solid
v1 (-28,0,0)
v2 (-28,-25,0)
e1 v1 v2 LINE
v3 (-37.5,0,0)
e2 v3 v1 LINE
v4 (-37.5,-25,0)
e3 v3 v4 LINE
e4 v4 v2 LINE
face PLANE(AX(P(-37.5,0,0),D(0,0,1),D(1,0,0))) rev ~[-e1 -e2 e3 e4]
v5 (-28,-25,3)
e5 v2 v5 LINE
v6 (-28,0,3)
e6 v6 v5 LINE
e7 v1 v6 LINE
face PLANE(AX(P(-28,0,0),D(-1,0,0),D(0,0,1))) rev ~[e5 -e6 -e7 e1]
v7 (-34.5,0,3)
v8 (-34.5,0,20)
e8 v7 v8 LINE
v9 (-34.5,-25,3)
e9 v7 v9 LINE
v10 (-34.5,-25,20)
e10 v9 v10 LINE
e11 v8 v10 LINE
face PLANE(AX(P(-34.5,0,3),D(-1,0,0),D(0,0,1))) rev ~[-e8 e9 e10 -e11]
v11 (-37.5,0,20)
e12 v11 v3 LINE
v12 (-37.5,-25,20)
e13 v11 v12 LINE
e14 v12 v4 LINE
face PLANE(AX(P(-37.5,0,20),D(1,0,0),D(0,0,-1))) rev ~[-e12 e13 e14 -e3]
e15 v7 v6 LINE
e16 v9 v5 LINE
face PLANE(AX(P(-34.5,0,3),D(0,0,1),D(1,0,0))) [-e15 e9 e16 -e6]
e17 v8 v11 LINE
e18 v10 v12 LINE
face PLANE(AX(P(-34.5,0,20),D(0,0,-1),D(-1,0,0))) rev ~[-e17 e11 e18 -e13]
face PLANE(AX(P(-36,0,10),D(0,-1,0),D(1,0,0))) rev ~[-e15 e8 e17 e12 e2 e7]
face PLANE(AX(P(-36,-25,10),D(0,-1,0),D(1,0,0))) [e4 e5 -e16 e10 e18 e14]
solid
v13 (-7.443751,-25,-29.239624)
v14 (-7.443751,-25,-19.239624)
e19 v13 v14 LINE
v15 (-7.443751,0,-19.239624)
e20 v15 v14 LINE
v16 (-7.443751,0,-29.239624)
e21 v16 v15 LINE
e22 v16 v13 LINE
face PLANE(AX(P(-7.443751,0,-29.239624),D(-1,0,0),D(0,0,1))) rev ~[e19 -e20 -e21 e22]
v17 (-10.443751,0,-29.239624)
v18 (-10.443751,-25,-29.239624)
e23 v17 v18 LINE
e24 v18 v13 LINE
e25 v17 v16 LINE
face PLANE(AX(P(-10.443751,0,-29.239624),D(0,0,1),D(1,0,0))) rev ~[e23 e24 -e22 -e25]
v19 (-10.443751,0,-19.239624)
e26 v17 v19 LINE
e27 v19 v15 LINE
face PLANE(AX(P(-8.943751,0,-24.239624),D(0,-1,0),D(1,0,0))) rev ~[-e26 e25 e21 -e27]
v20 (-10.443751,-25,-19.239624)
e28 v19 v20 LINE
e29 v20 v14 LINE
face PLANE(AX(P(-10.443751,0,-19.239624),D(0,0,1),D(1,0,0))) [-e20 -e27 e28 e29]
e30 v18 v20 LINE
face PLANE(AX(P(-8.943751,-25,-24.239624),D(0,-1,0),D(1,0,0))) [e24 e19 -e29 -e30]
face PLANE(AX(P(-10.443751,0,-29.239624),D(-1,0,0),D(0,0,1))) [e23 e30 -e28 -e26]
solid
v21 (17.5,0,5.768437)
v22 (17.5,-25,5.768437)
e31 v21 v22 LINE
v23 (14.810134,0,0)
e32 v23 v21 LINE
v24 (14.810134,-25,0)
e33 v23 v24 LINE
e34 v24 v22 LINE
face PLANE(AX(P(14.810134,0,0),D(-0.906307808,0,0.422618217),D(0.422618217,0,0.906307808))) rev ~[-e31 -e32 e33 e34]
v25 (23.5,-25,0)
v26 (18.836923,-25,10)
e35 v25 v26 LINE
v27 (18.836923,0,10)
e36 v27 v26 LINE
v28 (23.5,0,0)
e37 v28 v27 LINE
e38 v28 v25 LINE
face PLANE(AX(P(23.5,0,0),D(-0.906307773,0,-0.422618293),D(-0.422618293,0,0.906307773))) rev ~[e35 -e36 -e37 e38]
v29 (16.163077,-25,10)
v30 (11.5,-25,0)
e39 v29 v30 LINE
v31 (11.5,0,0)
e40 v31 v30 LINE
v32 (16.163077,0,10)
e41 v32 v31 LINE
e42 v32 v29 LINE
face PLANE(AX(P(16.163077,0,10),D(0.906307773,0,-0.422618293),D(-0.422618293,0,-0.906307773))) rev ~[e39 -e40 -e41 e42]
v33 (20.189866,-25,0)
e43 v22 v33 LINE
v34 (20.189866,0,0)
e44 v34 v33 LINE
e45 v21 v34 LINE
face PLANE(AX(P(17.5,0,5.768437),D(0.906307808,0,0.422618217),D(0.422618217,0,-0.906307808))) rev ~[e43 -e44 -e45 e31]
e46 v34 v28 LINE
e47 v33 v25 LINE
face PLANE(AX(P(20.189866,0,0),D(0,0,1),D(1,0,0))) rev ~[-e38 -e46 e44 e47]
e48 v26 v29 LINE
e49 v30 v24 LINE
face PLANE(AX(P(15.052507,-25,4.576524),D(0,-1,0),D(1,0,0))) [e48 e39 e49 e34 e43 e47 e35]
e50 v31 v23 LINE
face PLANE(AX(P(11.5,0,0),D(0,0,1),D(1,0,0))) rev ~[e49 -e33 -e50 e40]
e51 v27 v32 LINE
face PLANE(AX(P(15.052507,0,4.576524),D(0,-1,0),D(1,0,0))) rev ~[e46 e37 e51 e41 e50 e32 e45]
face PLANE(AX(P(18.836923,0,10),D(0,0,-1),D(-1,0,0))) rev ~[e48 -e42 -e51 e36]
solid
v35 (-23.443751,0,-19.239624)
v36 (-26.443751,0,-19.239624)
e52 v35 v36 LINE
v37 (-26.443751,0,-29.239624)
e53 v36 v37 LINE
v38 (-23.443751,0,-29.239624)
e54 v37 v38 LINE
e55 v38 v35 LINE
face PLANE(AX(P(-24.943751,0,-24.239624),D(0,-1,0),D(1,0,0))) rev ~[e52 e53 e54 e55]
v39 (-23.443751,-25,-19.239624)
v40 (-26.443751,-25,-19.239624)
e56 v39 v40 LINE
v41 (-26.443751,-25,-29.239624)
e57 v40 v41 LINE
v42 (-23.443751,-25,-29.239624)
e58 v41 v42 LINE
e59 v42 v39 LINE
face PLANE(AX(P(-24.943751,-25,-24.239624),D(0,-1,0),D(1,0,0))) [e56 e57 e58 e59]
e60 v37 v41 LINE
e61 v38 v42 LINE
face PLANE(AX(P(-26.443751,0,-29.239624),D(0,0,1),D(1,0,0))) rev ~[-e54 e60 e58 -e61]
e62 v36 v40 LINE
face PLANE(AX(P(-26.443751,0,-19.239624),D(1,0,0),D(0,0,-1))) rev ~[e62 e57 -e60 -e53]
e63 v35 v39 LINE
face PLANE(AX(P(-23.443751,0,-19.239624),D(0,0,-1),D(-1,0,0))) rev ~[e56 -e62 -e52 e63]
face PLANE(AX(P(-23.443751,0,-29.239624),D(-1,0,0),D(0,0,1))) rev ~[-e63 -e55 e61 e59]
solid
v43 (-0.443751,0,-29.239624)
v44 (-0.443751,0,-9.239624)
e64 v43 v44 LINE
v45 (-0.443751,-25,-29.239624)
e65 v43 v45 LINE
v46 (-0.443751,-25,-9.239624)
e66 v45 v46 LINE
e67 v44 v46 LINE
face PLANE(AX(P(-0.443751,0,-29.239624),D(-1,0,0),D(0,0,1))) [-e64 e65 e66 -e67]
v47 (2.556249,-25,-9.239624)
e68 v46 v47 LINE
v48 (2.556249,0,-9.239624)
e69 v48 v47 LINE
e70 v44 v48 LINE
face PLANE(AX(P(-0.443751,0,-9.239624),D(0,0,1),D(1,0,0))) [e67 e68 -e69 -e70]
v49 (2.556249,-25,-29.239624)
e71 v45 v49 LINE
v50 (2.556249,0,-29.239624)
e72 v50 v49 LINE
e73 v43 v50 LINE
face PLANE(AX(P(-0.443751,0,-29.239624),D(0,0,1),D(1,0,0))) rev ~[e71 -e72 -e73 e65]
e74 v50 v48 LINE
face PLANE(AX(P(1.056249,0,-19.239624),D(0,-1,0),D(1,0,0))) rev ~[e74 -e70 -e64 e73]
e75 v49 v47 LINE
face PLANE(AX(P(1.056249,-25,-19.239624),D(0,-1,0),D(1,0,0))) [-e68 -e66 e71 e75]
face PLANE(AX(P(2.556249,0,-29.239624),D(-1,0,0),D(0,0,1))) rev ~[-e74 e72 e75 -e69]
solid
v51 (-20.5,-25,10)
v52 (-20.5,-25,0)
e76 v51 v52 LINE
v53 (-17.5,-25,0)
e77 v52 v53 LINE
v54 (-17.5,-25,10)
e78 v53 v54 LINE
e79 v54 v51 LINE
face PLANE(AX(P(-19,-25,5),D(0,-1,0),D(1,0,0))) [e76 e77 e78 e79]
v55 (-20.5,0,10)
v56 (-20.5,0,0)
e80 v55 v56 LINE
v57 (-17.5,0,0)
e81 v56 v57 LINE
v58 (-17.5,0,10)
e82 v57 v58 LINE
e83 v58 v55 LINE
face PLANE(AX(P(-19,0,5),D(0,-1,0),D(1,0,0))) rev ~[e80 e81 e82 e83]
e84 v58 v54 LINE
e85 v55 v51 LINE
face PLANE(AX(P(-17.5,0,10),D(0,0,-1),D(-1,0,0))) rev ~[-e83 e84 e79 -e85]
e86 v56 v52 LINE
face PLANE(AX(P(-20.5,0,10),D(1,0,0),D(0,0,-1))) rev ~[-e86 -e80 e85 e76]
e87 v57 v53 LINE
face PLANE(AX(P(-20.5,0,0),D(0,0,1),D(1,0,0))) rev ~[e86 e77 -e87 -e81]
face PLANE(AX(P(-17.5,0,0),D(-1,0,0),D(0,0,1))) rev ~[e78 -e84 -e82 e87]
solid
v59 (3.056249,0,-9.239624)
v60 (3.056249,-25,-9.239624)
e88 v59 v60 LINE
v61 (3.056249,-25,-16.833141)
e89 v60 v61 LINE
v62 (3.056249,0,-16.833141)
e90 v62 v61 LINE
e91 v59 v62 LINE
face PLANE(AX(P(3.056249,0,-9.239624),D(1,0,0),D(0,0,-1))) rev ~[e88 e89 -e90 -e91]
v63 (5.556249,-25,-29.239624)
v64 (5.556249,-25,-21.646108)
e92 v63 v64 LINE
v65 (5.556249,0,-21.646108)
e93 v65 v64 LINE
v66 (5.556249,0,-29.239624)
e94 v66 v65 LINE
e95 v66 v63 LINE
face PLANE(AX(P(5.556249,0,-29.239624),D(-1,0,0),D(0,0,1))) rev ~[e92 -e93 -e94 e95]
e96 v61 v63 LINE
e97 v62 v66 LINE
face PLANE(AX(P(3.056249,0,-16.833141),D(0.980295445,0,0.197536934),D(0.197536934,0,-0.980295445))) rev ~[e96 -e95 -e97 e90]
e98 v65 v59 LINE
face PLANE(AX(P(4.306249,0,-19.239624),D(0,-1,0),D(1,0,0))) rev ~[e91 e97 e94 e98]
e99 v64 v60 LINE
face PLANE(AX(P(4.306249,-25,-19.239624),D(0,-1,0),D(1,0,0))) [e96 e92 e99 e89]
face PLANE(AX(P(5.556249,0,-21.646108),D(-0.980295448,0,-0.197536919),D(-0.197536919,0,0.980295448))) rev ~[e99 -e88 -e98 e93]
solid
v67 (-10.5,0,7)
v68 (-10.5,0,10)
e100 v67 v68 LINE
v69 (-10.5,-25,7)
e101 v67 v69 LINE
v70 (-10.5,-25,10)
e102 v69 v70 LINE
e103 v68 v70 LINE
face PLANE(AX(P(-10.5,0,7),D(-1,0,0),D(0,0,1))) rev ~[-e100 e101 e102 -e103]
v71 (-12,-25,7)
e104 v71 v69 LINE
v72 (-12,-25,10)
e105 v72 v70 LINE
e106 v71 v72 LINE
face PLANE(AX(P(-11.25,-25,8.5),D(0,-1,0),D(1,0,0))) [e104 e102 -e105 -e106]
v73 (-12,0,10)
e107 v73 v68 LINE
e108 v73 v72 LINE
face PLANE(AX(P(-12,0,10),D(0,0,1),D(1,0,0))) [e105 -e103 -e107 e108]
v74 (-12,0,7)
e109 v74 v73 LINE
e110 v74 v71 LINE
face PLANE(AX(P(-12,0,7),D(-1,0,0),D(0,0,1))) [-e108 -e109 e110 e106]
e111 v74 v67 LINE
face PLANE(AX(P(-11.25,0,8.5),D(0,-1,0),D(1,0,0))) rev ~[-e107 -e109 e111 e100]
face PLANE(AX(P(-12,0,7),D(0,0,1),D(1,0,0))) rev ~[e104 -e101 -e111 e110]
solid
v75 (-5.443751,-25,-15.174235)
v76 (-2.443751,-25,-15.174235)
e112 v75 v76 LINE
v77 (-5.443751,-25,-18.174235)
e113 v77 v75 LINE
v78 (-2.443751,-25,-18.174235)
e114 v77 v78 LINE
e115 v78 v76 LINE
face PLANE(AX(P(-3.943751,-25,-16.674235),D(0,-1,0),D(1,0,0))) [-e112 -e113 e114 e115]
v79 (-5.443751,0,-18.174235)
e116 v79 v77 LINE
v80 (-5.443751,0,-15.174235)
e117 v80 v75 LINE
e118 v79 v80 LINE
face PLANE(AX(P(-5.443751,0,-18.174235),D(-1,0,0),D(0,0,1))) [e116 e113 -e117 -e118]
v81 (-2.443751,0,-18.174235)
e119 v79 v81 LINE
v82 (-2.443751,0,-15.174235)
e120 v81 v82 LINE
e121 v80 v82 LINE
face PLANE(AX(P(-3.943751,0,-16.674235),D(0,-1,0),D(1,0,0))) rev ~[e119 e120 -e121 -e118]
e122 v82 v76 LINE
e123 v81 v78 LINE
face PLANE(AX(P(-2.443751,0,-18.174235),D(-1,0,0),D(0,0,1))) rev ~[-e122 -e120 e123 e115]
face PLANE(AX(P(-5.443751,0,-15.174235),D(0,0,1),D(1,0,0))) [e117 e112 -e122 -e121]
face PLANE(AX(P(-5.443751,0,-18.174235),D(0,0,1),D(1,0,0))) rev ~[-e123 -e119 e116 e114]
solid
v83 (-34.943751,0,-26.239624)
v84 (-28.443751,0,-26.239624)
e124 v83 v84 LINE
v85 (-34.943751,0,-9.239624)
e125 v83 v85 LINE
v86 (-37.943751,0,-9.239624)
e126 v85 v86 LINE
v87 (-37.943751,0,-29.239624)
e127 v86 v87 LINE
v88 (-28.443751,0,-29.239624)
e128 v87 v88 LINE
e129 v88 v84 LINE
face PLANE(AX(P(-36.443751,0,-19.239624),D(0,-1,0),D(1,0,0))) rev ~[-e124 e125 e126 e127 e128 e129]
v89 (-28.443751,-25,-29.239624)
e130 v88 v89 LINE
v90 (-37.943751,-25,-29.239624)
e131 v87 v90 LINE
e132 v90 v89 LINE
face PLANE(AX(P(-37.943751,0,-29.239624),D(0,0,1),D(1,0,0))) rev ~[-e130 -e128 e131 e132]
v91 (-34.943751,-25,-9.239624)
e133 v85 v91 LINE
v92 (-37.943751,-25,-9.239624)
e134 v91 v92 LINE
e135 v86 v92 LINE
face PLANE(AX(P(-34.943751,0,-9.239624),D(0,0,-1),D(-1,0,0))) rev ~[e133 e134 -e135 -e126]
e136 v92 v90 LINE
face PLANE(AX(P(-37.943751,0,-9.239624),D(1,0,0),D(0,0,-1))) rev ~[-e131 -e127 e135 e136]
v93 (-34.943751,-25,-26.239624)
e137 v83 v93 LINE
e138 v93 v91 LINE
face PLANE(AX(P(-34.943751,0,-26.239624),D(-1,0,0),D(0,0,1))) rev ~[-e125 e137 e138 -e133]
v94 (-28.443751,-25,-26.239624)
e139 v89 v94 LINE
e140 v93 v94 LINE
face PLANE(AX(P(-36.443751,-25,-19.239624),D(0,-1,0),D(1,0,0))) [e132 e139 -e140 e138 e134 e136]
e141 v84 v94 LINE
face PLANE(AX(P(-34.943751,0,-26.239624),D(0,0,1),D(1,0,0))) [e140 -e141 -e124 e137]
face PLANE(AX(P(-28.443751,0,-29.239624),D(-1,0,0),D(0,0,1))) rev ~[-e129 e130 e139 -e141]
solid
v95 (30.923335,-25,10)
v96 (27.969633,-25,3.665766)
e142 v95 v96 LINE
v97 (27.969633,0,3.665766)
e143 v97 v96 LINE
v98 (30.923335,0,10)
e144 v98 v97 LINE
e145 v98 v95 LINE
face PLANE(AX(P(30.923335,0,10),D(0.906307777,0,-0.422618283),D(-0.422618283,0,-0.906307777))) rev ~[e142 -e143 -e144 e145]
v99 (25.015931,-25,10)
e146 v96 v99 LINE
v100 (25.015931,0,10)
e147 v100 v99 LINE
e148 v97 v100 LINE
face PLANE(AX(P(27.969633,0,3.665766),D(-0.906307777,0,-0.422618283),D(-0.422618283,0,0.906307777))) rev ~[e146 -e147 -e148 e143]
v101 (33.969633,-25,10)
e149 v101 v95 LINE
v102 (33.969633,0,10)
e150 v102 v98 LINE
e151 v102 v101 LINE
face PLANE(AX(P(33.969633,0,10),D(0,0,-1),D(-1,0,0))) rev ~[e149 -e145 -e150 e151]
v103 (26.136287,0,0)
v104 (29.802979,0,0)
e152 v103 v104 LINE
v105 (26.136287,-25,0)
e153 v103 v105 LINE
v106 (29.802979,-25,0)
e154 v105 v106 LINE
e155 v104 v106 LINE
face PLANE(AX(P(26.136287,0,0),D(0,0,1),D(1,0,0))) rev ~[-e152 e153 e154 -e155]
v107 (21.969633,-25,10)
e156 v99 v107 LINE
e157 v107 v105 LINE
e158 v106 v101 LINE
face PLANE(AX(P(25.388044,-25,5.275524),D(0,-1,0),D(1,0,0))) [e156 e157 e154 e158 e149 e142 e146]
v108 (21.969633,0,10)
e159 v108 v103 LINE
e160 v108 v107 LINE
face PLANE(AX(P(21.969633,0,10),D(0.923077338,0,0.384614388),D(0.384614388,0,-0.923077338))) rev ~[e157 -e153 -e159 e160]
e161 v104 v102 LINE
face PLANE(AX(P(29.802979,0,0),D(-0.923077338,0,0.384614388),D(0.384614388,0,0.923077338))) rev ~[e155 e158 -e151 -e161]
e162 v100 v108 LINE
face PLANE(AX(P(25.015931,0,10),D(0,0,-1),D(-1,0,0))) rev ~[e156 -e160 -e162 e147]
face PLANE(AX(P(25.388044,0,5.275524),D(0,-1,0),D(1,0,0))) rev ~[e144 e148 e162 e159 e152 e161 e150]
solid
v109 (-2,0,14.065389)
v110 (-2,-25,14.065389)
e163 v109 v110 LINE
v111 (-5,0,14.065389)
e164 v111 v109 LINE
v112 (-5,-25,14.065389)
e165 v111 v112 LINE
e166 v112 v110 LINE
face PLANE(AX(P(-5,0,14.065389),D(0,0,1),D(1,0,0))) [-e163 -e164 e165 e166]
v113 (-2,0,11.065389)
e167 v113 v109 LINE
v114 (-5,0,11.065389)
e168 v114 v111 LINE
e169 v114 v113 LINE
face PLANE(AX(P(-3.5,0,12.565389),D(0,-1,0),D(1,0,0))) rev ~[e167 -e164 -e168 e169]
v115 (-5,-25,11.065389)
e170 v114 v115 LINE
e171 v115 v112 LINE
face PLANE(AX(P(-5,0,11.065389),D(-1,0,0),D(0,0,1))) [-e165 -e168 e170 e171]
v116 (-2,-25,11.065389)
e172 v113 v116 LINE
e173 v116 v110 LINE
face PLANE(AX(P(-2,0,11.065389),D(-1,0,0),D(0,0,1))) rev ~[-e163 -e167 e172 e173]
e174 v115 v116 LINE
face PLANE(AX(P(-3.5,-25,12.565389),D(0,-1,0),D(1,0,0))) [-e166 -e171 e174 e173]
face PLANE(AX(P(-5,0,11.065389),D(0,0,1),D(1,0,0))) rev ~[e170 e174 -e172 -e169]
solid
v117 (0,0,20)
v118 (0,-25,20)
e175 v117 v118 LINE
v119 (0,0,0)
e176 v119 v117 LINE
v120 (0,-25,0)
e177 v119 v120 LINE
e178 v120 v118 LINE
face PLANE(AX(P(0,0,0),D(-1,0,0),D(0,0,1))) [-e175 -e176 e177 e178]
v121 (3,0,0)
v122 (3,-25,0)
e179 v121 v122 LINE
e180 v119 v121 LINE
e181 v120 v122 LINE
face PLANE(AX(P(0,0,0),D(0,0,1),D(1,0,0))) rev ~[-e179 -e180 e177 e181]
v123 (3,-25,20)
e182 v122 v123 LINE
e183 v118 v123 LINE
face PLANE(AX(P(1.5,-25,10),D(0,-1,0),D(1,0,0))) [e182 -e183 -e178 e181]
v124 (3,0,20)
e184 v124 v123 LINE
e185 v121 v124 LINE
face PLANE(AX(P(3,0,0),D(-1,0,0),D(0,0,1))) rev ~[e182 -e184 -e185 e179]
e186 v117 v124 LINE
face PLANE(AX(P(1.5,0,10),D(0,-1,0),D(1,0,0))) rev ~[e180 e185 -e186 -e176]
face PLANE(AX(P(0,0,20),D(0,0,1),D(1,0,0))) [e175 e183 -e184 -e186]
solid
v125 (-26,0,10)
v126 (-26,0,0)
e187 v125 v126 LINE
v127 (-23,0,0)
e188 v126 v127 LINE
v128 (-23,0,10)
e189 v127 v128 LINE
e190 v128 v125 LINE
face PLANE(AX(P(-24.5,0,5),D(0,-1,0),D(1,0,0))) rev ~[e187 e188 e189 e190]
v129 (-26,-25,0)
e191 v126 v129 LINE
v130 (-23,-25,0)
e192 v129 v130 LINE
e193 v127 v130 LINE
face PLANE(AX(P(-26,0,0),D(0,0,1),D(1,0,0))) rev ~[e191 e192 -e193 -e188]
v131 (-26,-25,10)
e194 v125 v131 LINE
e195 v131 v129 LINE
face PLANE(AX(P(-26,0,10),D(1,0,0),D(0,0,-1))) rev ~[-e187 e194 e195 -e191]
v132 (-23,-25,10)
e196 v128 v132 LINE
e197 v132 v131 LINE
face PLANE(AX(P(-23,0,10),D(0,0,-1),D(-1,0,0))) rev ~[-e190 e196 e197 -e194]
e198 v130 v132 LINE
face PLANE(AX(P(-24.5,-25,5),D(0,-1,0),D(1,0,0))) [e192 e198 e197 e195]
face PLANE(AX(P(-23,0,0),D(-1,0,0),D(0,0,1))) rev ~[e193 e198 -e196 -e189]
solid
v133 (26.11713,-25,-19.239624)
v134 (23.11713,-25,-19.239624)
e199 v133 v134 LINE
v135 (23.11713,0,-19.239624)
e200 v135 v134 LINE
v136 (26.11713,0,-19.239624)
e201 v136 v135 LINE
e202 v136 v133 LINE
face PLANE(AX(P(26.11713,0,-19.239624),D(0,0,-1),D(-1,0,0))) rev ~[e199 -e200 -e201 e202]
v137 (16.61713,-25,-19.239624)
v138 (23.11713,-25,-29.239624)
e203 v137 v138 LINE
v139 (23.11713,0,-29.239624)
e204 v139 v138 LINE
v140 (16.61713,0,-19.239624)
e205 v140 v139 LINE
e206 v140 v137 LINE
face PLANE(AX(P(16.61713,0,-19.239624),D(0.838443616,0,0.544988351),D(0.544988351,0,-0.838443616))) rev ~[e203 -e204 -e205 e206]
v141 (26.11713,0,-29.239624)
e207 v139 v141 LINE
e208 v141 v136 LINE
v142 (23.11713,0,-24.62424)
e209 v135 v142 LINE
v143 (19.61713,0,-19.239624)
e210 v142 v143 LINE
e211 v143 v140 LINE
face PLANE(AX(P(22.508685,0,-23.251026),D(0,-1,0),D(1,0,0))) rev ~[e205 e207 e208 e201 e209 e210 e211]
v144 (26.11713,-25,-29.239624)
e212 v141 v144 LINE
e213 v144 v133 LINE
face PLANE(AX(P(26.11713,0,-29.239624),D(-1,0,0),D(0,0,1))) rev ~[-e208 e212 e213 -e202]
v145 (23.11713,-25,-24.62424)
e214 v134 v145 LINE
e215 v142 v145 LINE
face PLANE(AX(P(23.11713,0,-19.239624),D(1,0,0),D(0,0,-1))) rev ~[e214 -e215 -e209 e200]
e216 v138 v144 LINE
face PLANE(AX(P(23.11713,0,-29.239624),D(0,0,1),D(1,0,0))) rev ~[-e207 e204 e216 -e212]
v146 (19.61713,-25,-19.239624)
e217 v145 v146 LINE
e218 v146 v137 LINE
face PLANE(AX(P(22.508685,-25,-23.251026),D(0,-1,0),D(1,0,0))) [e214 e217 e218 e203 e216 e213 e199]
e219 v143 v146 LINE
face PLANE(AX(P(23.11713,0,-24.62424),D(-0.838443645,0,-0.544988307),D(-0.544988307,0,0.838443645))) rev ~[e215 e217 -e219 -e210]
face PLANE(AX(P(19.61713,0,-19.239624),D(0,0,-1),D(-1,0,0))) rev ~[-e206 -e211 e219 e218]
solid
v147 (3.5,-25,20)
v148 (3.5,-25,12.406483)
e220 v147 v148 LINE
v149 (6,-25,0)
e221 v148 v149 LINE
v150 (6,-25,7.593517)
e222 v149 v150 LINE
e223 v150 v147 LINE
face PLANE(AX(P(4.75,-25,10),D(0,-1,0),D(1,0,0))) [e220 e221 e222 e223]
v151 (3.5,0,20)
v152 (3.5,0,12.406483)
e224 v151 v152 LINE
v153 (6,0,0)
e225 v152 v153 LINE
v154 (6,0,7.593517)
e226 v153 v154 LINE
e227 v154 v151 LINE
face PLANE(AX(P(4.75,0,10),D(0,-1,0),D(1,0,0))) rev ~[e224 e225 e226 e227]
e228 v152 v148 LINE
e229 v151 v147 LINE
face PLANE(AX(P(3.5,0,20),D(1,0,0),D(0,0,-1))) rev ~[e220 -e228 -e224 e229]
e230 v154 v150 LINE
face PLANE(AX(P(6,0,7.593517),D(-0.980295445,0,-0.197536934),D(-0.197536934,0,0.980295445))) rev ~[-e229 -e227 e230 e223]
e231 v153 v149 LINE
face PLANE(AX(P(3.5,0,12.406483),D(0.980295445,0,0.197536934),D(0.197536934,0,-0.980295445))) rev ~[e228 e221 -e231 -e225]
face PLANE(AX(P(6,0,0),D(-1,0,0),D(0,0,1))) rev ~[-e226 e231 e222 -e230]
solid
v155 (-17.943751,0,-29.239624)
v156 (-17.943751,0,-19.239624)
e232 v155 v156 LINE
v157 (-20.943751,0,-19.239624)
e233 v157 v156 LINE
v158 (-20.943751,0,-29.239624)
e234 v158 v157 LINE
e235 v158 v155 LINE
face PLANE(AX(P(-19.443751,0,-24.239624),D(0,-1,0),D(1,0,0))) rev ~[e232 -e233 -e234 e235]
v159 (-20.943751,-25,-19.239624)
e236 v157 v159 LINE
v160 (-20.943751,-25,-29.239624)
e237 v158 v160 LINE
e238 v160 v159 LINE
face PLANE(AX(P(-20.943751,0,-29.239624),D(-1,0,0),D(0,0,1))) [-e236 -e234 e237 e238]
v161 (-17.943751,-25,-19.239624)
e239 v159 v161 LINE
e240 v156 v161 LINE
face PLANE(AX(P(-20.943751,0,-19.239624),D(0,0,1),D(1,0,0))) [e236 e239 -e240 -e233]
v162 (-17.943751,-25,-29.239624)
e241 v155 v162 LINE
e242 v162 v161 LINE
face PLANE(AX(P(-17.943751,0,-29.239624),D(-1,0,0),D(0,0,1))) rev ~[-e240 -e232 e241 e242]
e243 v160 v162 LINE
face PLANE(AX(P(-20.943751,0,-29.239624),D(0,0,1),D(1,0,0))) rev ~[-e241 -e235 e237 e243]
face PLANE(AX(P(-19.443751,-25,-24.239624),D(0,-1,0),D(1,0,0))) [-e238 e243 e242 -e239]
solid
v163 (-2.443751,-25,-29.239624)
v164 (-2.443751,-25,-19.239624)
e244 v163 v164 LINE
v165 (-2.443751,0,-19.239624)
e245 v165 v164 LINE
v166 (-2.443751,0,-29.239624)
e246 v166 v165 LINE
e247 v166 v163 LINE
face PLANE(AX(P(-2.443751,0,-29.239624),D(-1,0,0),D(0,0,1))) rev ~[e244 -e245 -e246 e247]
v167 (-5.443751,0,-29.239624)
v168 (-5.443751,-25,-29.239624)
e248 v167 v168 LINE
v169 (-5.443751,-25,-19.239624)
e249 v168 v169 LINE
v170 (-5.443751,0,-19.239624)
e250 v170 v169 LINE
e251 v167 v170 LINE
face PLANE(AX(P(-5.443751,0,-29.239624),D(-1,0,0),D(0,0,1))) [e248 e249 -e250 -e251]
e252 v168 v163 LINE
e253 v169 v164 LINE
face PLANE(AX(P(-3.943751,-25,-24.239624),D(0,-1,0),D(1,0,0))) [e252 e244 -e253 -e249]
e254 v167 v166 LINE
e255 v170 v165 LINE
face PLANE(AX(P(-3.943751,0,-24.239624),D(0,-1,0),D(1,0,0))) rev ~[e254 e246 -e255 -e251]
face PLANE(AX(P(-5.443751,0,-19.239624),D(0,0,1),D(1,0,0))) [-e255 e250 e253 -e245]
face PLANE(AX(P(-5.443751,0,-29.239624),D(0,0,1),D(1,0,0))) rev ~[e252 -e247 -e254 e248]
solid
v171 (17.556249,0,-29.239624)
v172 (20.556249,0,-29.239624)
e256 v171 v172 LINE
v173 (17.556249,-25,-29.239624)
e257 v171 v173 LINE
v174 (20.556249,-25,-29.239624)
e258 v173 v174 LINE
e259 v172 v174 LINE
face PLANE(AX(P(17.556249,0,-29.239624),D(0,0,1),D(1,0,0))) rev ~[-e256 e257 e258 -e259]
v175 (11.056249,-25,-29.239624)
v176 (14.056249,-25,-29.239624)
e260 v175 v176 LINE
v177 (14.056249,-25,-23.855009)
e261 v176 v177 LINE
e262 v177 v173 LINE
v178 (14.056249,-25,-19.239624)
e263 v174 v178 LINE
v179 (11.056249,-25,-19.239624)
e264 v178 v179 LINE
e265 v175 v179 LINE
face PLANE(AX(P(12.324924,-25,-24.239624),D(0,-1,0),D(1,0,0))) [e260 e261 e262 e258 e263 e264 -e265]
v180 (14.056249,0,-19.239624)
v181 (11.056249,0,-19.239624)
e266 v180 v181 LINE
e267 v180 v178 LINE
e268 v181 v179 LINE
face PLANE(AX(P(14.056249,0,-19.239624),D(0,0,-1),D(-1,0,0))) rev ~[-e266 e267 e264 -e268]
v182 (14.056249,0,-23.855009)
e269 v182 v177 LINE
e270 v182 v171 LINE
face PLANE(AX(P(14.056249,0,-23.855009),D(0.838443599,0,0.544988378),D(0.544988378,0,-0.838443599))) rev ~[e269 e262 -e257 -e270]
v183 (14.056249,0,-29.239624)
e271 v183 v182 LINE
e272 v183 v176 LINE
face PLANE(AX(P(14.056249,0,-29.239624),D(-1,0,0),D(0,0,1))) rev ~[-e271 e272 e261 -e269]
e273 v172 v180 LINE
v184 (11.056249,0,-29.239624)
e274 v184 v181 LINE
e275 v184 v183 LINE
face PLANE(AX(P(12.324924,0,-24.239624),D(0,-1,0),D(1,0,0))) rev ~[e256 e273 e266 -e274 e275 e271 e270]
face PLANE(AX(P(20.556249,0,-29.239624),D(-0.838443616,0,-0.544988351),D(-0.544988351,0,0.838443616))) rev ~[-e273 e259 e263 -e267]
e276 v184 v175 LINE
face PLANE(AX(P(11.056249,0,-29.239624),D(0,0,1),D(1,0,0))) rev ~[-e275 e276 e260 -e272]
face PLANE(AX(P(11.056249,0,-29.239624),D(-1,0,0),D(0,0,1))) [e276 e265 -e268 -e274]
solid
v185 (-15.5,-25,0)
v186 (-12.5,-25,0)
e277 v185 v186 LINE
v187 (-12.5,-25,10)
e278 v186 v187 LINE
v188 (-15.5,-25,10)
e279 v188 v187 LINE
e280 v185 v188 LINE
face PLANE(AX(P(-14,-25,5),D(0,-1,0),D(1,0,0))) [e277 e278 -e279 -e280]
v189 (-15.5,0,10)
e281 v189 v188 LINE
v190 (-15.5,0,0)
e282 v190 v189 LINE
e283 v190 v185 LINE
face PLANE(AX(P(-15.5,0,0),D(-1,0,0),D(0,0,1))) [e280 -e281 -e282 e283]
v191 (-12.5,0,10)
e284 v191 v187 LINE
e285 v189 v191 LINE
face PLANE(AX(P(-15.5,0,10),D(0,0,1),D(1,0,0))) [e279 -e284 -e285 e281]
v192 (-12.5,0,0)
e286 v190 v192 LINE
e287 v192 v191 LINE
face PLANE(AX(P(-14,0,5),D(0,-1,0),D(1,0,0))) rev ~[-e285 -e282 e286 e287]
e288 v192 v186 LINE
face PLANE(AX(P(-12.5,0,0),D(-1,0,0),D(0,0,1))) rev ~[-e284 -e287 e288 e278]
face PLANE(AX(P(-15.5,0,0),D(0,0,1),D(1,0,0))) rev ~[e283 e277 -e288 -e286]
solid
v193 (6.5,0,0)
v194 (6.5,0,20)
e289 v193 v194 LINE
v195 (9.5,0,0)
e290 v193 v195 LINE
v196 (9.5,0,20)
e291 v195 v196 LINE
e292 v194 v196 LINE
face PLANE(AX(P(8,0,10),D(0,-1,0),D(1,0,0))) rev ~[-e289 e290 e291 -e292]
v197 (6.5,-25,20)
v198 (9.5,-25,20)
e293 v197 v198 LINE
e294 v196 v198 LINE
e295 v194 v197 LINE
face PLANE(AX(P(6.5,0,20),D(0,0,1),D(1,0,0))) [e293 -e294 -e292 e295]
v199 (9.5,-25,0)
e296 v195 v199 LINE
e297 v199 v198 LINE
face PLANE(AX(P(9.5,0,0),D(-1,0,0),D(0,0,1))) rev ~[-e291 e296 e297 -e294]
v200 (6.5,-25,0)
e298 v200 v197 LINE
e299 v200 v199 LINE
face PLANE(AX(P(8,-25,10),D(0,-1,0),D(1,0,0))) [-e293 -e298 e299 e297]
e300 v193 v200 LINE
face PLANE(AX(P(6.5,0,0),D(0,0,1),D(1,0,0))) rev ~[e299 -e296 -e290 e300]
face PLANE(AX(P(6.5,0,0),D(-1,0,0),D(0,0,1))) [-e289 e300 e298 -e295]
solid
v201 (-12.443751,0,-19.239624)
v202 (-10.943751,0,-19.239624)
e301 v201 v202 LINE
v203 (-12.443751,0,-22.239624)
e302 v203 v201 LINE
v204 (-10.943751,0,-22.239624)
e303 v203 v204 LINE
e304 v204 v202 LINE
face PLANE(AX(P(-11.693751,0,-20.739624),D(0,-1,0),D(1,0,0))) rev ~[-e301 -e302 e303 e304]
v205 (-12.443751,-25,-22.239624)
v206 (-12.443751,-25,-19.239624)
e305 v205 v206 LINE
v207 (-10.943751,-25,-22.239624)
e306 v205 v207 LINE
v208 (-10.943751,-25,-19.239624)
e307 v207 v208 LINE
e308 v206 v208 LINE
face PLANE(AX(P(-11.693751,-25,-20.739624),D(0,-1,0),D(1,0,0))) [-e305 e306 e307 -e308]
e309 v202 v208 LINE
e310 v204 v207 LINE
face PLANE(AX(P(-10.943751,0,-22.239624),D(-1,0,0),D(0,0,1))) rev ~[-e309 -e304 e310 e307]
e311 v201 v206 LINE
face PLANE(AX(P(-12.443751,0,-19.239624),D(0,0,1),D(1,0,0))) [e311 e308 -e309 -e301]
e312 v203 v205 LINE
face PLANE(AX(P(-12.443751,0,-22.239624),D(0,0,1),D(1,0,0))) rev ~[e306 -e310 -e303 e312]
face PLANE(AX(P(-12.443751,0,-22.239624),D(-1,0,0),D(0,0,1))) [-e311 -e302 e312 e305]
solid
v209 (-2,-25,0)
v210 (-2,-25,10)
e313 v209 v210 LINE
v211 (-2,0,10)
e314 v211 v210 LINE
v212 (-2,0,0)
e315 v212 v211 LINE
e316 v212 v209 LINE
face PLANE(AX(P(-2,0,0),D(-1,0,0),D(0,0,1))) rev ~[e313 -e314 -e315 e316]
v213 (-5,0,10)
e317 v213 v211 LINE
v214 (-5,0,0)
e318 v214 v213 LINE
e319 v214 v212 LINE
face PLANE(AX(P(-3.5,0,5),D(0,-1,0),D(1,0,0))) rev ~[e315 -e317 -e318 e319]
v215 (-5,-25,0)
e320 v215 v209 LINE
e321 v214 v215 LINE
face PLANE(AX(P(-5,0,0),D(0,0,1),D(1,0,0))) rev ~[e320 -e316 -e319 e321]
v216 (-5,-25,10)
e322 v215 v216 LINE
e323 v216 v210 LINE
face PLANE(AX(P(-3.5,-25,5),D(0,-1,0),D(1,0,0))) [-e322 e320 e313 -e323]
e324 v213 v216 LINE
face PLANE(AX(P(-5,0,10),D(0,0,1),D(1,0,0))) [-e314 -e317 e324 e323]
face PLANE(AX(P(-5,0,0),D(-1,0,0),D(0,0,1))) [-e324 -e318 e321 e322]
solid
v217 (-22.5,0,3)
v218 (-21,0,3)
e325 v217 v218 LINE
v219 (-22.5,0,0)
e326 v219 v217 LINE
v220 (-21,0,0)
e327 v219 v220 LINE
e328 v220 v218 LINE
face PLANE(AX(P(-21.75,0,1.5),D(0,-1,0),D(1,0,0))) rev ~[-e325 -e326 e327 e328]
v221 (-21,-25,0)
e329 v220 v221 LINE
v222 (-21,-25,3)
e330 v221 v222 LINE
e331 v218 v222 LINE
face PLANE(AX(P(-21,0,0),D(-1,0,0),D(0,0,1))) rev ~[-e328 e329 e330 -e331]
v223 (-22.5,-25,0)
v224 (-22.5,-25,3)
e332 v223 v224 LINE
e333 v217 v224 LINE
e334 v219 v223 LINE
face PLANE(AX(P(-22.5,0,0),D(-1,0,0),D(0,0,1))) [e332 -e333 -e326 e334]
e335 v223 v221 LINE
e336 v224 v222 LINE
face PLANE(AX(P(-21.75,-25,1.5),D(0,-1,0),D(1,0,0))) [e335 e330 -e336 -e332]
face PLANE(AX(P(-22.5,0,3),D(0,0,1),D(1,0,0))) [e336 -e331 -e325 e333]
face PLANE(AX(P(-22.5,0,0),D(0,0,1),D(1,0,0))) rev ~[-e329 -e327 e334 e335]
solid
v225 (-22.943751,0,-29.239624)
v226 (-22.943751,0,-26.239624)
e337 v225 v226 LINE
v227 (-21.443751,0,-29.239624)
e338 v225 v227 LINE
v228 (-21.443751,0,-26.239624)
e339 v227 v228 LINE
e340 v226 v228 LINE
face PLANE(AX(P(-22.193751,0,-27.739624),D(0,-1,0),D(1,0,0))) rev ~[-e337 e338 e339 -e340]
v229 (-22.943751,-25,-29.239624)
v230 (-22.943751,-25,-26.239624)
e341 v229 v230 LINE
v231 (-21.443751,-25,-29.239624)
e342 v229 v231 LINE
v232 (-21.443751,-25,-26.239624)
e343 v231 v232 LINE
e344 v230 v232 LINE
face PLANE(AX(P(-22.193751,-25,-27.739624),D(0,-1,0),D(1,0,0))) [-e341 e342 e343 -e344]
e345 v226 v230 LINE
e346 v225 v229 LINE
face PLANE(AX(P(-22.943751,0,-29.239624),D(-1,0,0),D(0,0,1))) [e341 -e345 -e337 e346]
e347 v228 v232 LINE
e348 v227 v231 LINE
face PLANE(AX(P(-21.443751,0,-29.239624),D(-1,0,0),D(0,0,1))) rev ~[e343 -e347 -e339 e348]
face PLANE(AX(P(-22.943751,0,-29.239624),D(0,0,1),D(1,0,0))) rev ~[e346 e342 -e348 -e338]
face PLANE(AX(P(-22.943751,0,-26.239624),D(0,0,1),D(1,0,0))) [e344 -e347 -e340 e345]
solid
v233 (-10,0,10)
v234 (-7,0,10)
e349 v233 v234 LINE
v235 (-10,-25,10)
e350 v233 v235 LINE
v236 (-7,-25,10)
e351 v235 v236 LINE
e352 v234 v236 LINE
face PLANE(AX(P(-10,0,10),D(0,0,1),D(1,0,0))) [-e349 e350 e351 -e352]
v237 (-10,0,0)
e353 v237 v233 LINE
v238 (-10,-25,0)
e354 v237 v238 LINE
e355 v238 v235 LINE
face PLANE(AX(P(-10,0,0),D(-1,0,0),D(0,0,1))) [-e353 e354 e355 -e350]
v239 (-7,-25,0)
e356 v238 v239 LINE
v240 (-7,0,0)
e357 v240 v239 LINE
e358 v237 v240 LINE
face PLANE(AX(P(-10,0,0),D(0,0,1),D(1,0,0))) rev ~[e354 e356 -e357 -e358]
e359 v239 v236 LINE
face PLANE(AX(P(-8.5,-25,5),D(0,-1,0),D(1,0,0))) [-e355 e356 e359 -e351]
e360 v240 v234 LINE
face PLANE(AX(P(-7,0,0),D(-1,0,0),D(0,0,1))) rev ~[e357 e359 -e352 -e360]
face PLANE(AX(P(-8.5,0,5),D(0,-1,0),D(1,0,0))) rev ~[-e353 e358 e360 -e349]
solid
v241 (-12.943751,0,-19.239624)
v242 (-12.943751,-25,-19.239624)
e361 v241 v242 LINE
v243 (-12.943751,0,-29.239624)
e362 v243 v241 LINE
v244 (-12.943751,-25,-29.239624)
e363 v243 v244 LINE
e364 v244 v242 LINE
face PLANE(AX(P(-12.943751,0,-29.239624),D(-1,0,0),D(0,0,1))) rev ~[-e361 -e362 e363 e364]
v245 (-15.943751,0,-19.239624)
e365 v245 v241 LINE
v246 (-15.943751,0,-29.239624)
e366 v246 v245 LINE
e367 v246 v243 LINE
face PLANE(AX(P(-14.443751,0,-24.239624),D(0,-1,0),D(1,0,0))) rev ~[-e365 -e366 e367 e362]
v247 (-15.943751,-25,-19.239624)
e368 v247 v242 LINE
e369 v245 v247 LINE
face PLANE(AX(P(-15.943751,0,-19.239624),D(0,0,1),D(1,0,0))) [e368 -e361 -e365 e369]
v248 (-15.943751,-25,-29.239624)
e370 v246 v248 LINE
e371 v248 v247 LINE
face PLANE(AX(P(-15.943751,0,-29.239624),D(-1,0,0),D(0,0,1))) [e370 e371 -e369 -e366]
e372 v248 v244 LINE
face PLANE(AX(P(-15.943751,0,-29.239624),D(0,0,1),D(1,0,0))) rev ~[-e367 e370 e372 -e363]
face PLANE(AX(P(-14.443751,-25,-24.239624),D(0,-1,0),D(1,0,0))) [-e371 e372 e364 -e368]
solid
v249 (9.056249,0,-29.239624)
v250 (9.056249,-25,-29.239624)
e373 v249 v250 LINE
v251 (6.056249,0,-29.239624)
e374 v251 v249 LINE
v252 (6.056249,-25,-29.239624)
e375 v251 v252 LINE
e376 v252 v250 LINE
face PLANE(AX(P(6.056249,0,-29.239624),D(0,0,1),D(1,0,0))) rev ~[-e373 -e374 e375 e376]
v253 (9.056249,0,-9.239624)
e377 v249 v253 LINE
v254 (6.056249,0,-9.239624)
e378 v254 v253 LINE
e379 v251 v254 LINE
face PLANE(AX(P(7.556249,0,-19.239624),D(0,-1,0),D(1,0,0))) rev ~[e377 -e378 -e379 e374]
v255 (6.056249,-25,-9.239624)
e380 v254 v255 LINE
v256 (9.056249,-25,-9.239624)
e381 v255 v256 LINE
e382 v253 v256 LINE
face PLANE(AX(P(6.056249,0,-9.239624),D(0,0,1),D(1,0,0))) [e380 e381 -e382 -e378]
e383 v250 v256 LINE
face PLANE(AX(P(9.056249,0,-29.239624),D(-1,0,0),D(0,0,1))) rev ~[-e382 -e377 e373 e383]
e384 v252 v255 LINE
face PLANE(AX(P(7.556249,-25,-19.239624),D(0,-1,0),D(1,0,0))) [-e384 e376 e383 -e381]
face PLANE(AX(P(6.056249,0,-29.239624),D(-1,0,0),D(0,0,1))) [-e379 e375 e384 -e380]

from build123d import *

# Parameters (mm, degrees)
F0_W     = 6.5
F0_H     = 3
F0_W_2   = 1.5
F0_W_3   = 3
F0_H_2   = 10
F0_H_3   = 20
F1_DEPTH = 25
F2_W     = 6.5
F2_H     = 3
F2_W_2   = 3
F2_H_2   = 10
F2_W_3   = 1.5
F2_H_3   = 20
F2_W_4   = 2.53735
F3_DEPTH = 25


with BuildPart() as f1:
    # F0 (on Front) → F1 (new body)
    with BuildSketch(Plane.XZ):
        Polygon((-34.5, 20), (-37.5, 20), (-37.5, 0), (-34.5, 0), (-34.5, 3), align=None)
        with Locations((-31.25, 1.5)):
            Rectangle(F0_W, F0_H)
        Polygon((-20.5, 3), (-20.5, 0), (-17.5, 0), (-17.5, 10), (-20.5, 10), align=None)
        with Locations((-21.75, 1.5)):
            Rectangle(F0_W_2, F0_H)
        Polygon((-23, 10), (-26, 10), (-26, 0), (-23, 0), (-23, 3), align=None)
        with Locations((-14, 5)):
            Rectangle(F0_W_3, F0_H_2)
        with Locations((-11.25, 8.5)):
            Rectangle(F0_W_2, F0_H)
        with Locations((-8.5, 5)):
            Rectangle(F0_W_3, F0_H_2)
        with Locations((-3.5, 5)):
            Rectangle(F0_W_3, F0_H_2)
        with Locations((1.5, 10)):
            Rectangle(F0_W_3, F0_H_3)
        with Locations((8, 10)):
            Rectangle(F0_W_3, F0_H_3)
        Polygon((11.5, 0), (14.810134, 0), (17.5, 5.768437), (17.5, 10), (16.163077, 10), align=None)
        Polygon((17.5, 10), (17.5, 5.768437), (20.189866, 0), (23.5, 0), (18.836923, 10), align=None)
        Polygon((3.5, 20), (3.5, 12.406483), (6, 0), (6, 7.593517), align=None)
        Polygon((25.015931, 10), (21.969633, 10), (26.136287, 0), (27.969633, 0), (27.969633, 3.665766), align=None)
        Polygon((27.969633, 3.665766), (27.969633, 0), (29.802979, 0), (33.969633, 10), (30.923335, 10), align=None)
        with Locations((-3.5, 12.565389)):
            Rectangle(F0_W_3, F0_H)
    extrude(amount=F1_DEPTH)


with BuildPart() as f3:
    # F2 (on Front) → F3 (new body)
    with BuildSketch(Plane.XZ):
        Polygon((-34.943751, -9.239624), (-37.943751, -9.239624), (-37.943751, -29.239624), (-34.943751, -29.239624), (-34.943751, -26.239624), align=None)
        with Locations((-31.693751, -27.739624)):
            Rectangle(F2_W, F2_H)
        with Locations((-19.443751, -24.239624)):
            Rectangle(F2_W_2, F2_H_2)
        with Locations((-22.193751, -27.739624)):
            Rectangle(F2_W_3, F2_H)
        Polygon((-23.443751, -19.239624), (-26.443751, -19.239624), (-26.443751, -29.239624), (-23.443751, -29.239624), (-23.443751, -26.239624), align=None)
        with Locations((-14.443751, -24.239624)):
            Rectangle(F2_W_2, F2_H_2)
        with Locations((-11.693751, -20.739624)):
            Rectangle(F2_W_3, F2_H)
        with Locations((-8.943751, -24.239624)):
            Rectangle(F2_W_2, F2_H_2)
        with Locations((-3.943751, -24.239624)):
            Rectangle(F2_W_2, F2_H_2)
        with Locations((1.056249, -19.239624)):
            Rectangle(F2_W_2, F2_H_3)
        with Locations((7.556249, -19.239624)):
            Rectangle(F2_W_2, F2_H_3)
        with Locations((12.324924, -24.239624)):
            Rectangle(F2_W_4, F2_H_2)
        Polygon((13.593599, -19.239624), (13.593599, -29.239624), (14.056249, -29.239624), (14.056249, -23.855009), (17.556249, -29.239624), (20.556249, -29.239624), (14.056249, -19.239624), align=None)
        Polygon((3.056249, -9.239624), (3.056249, -16.833141), (5.556249, -29.239624), (5.556249, -21.646108), align=None)
        with Locations((-3.943751, -16.674235)):
            Rectangle(F2_W_2, F2_H)
        Polygon((19.61713, -19.239624), (16.61713, -19.239624), (23.11713, -29.239624), (26.11713, -29.239624), (26.11713, -19.239624), (23.11713, -19.239624), (23.11713, -24.62424), align=None)
    extrude(amount=F3_DEPTH)


solid = Compound([f1.part, f3.part])
